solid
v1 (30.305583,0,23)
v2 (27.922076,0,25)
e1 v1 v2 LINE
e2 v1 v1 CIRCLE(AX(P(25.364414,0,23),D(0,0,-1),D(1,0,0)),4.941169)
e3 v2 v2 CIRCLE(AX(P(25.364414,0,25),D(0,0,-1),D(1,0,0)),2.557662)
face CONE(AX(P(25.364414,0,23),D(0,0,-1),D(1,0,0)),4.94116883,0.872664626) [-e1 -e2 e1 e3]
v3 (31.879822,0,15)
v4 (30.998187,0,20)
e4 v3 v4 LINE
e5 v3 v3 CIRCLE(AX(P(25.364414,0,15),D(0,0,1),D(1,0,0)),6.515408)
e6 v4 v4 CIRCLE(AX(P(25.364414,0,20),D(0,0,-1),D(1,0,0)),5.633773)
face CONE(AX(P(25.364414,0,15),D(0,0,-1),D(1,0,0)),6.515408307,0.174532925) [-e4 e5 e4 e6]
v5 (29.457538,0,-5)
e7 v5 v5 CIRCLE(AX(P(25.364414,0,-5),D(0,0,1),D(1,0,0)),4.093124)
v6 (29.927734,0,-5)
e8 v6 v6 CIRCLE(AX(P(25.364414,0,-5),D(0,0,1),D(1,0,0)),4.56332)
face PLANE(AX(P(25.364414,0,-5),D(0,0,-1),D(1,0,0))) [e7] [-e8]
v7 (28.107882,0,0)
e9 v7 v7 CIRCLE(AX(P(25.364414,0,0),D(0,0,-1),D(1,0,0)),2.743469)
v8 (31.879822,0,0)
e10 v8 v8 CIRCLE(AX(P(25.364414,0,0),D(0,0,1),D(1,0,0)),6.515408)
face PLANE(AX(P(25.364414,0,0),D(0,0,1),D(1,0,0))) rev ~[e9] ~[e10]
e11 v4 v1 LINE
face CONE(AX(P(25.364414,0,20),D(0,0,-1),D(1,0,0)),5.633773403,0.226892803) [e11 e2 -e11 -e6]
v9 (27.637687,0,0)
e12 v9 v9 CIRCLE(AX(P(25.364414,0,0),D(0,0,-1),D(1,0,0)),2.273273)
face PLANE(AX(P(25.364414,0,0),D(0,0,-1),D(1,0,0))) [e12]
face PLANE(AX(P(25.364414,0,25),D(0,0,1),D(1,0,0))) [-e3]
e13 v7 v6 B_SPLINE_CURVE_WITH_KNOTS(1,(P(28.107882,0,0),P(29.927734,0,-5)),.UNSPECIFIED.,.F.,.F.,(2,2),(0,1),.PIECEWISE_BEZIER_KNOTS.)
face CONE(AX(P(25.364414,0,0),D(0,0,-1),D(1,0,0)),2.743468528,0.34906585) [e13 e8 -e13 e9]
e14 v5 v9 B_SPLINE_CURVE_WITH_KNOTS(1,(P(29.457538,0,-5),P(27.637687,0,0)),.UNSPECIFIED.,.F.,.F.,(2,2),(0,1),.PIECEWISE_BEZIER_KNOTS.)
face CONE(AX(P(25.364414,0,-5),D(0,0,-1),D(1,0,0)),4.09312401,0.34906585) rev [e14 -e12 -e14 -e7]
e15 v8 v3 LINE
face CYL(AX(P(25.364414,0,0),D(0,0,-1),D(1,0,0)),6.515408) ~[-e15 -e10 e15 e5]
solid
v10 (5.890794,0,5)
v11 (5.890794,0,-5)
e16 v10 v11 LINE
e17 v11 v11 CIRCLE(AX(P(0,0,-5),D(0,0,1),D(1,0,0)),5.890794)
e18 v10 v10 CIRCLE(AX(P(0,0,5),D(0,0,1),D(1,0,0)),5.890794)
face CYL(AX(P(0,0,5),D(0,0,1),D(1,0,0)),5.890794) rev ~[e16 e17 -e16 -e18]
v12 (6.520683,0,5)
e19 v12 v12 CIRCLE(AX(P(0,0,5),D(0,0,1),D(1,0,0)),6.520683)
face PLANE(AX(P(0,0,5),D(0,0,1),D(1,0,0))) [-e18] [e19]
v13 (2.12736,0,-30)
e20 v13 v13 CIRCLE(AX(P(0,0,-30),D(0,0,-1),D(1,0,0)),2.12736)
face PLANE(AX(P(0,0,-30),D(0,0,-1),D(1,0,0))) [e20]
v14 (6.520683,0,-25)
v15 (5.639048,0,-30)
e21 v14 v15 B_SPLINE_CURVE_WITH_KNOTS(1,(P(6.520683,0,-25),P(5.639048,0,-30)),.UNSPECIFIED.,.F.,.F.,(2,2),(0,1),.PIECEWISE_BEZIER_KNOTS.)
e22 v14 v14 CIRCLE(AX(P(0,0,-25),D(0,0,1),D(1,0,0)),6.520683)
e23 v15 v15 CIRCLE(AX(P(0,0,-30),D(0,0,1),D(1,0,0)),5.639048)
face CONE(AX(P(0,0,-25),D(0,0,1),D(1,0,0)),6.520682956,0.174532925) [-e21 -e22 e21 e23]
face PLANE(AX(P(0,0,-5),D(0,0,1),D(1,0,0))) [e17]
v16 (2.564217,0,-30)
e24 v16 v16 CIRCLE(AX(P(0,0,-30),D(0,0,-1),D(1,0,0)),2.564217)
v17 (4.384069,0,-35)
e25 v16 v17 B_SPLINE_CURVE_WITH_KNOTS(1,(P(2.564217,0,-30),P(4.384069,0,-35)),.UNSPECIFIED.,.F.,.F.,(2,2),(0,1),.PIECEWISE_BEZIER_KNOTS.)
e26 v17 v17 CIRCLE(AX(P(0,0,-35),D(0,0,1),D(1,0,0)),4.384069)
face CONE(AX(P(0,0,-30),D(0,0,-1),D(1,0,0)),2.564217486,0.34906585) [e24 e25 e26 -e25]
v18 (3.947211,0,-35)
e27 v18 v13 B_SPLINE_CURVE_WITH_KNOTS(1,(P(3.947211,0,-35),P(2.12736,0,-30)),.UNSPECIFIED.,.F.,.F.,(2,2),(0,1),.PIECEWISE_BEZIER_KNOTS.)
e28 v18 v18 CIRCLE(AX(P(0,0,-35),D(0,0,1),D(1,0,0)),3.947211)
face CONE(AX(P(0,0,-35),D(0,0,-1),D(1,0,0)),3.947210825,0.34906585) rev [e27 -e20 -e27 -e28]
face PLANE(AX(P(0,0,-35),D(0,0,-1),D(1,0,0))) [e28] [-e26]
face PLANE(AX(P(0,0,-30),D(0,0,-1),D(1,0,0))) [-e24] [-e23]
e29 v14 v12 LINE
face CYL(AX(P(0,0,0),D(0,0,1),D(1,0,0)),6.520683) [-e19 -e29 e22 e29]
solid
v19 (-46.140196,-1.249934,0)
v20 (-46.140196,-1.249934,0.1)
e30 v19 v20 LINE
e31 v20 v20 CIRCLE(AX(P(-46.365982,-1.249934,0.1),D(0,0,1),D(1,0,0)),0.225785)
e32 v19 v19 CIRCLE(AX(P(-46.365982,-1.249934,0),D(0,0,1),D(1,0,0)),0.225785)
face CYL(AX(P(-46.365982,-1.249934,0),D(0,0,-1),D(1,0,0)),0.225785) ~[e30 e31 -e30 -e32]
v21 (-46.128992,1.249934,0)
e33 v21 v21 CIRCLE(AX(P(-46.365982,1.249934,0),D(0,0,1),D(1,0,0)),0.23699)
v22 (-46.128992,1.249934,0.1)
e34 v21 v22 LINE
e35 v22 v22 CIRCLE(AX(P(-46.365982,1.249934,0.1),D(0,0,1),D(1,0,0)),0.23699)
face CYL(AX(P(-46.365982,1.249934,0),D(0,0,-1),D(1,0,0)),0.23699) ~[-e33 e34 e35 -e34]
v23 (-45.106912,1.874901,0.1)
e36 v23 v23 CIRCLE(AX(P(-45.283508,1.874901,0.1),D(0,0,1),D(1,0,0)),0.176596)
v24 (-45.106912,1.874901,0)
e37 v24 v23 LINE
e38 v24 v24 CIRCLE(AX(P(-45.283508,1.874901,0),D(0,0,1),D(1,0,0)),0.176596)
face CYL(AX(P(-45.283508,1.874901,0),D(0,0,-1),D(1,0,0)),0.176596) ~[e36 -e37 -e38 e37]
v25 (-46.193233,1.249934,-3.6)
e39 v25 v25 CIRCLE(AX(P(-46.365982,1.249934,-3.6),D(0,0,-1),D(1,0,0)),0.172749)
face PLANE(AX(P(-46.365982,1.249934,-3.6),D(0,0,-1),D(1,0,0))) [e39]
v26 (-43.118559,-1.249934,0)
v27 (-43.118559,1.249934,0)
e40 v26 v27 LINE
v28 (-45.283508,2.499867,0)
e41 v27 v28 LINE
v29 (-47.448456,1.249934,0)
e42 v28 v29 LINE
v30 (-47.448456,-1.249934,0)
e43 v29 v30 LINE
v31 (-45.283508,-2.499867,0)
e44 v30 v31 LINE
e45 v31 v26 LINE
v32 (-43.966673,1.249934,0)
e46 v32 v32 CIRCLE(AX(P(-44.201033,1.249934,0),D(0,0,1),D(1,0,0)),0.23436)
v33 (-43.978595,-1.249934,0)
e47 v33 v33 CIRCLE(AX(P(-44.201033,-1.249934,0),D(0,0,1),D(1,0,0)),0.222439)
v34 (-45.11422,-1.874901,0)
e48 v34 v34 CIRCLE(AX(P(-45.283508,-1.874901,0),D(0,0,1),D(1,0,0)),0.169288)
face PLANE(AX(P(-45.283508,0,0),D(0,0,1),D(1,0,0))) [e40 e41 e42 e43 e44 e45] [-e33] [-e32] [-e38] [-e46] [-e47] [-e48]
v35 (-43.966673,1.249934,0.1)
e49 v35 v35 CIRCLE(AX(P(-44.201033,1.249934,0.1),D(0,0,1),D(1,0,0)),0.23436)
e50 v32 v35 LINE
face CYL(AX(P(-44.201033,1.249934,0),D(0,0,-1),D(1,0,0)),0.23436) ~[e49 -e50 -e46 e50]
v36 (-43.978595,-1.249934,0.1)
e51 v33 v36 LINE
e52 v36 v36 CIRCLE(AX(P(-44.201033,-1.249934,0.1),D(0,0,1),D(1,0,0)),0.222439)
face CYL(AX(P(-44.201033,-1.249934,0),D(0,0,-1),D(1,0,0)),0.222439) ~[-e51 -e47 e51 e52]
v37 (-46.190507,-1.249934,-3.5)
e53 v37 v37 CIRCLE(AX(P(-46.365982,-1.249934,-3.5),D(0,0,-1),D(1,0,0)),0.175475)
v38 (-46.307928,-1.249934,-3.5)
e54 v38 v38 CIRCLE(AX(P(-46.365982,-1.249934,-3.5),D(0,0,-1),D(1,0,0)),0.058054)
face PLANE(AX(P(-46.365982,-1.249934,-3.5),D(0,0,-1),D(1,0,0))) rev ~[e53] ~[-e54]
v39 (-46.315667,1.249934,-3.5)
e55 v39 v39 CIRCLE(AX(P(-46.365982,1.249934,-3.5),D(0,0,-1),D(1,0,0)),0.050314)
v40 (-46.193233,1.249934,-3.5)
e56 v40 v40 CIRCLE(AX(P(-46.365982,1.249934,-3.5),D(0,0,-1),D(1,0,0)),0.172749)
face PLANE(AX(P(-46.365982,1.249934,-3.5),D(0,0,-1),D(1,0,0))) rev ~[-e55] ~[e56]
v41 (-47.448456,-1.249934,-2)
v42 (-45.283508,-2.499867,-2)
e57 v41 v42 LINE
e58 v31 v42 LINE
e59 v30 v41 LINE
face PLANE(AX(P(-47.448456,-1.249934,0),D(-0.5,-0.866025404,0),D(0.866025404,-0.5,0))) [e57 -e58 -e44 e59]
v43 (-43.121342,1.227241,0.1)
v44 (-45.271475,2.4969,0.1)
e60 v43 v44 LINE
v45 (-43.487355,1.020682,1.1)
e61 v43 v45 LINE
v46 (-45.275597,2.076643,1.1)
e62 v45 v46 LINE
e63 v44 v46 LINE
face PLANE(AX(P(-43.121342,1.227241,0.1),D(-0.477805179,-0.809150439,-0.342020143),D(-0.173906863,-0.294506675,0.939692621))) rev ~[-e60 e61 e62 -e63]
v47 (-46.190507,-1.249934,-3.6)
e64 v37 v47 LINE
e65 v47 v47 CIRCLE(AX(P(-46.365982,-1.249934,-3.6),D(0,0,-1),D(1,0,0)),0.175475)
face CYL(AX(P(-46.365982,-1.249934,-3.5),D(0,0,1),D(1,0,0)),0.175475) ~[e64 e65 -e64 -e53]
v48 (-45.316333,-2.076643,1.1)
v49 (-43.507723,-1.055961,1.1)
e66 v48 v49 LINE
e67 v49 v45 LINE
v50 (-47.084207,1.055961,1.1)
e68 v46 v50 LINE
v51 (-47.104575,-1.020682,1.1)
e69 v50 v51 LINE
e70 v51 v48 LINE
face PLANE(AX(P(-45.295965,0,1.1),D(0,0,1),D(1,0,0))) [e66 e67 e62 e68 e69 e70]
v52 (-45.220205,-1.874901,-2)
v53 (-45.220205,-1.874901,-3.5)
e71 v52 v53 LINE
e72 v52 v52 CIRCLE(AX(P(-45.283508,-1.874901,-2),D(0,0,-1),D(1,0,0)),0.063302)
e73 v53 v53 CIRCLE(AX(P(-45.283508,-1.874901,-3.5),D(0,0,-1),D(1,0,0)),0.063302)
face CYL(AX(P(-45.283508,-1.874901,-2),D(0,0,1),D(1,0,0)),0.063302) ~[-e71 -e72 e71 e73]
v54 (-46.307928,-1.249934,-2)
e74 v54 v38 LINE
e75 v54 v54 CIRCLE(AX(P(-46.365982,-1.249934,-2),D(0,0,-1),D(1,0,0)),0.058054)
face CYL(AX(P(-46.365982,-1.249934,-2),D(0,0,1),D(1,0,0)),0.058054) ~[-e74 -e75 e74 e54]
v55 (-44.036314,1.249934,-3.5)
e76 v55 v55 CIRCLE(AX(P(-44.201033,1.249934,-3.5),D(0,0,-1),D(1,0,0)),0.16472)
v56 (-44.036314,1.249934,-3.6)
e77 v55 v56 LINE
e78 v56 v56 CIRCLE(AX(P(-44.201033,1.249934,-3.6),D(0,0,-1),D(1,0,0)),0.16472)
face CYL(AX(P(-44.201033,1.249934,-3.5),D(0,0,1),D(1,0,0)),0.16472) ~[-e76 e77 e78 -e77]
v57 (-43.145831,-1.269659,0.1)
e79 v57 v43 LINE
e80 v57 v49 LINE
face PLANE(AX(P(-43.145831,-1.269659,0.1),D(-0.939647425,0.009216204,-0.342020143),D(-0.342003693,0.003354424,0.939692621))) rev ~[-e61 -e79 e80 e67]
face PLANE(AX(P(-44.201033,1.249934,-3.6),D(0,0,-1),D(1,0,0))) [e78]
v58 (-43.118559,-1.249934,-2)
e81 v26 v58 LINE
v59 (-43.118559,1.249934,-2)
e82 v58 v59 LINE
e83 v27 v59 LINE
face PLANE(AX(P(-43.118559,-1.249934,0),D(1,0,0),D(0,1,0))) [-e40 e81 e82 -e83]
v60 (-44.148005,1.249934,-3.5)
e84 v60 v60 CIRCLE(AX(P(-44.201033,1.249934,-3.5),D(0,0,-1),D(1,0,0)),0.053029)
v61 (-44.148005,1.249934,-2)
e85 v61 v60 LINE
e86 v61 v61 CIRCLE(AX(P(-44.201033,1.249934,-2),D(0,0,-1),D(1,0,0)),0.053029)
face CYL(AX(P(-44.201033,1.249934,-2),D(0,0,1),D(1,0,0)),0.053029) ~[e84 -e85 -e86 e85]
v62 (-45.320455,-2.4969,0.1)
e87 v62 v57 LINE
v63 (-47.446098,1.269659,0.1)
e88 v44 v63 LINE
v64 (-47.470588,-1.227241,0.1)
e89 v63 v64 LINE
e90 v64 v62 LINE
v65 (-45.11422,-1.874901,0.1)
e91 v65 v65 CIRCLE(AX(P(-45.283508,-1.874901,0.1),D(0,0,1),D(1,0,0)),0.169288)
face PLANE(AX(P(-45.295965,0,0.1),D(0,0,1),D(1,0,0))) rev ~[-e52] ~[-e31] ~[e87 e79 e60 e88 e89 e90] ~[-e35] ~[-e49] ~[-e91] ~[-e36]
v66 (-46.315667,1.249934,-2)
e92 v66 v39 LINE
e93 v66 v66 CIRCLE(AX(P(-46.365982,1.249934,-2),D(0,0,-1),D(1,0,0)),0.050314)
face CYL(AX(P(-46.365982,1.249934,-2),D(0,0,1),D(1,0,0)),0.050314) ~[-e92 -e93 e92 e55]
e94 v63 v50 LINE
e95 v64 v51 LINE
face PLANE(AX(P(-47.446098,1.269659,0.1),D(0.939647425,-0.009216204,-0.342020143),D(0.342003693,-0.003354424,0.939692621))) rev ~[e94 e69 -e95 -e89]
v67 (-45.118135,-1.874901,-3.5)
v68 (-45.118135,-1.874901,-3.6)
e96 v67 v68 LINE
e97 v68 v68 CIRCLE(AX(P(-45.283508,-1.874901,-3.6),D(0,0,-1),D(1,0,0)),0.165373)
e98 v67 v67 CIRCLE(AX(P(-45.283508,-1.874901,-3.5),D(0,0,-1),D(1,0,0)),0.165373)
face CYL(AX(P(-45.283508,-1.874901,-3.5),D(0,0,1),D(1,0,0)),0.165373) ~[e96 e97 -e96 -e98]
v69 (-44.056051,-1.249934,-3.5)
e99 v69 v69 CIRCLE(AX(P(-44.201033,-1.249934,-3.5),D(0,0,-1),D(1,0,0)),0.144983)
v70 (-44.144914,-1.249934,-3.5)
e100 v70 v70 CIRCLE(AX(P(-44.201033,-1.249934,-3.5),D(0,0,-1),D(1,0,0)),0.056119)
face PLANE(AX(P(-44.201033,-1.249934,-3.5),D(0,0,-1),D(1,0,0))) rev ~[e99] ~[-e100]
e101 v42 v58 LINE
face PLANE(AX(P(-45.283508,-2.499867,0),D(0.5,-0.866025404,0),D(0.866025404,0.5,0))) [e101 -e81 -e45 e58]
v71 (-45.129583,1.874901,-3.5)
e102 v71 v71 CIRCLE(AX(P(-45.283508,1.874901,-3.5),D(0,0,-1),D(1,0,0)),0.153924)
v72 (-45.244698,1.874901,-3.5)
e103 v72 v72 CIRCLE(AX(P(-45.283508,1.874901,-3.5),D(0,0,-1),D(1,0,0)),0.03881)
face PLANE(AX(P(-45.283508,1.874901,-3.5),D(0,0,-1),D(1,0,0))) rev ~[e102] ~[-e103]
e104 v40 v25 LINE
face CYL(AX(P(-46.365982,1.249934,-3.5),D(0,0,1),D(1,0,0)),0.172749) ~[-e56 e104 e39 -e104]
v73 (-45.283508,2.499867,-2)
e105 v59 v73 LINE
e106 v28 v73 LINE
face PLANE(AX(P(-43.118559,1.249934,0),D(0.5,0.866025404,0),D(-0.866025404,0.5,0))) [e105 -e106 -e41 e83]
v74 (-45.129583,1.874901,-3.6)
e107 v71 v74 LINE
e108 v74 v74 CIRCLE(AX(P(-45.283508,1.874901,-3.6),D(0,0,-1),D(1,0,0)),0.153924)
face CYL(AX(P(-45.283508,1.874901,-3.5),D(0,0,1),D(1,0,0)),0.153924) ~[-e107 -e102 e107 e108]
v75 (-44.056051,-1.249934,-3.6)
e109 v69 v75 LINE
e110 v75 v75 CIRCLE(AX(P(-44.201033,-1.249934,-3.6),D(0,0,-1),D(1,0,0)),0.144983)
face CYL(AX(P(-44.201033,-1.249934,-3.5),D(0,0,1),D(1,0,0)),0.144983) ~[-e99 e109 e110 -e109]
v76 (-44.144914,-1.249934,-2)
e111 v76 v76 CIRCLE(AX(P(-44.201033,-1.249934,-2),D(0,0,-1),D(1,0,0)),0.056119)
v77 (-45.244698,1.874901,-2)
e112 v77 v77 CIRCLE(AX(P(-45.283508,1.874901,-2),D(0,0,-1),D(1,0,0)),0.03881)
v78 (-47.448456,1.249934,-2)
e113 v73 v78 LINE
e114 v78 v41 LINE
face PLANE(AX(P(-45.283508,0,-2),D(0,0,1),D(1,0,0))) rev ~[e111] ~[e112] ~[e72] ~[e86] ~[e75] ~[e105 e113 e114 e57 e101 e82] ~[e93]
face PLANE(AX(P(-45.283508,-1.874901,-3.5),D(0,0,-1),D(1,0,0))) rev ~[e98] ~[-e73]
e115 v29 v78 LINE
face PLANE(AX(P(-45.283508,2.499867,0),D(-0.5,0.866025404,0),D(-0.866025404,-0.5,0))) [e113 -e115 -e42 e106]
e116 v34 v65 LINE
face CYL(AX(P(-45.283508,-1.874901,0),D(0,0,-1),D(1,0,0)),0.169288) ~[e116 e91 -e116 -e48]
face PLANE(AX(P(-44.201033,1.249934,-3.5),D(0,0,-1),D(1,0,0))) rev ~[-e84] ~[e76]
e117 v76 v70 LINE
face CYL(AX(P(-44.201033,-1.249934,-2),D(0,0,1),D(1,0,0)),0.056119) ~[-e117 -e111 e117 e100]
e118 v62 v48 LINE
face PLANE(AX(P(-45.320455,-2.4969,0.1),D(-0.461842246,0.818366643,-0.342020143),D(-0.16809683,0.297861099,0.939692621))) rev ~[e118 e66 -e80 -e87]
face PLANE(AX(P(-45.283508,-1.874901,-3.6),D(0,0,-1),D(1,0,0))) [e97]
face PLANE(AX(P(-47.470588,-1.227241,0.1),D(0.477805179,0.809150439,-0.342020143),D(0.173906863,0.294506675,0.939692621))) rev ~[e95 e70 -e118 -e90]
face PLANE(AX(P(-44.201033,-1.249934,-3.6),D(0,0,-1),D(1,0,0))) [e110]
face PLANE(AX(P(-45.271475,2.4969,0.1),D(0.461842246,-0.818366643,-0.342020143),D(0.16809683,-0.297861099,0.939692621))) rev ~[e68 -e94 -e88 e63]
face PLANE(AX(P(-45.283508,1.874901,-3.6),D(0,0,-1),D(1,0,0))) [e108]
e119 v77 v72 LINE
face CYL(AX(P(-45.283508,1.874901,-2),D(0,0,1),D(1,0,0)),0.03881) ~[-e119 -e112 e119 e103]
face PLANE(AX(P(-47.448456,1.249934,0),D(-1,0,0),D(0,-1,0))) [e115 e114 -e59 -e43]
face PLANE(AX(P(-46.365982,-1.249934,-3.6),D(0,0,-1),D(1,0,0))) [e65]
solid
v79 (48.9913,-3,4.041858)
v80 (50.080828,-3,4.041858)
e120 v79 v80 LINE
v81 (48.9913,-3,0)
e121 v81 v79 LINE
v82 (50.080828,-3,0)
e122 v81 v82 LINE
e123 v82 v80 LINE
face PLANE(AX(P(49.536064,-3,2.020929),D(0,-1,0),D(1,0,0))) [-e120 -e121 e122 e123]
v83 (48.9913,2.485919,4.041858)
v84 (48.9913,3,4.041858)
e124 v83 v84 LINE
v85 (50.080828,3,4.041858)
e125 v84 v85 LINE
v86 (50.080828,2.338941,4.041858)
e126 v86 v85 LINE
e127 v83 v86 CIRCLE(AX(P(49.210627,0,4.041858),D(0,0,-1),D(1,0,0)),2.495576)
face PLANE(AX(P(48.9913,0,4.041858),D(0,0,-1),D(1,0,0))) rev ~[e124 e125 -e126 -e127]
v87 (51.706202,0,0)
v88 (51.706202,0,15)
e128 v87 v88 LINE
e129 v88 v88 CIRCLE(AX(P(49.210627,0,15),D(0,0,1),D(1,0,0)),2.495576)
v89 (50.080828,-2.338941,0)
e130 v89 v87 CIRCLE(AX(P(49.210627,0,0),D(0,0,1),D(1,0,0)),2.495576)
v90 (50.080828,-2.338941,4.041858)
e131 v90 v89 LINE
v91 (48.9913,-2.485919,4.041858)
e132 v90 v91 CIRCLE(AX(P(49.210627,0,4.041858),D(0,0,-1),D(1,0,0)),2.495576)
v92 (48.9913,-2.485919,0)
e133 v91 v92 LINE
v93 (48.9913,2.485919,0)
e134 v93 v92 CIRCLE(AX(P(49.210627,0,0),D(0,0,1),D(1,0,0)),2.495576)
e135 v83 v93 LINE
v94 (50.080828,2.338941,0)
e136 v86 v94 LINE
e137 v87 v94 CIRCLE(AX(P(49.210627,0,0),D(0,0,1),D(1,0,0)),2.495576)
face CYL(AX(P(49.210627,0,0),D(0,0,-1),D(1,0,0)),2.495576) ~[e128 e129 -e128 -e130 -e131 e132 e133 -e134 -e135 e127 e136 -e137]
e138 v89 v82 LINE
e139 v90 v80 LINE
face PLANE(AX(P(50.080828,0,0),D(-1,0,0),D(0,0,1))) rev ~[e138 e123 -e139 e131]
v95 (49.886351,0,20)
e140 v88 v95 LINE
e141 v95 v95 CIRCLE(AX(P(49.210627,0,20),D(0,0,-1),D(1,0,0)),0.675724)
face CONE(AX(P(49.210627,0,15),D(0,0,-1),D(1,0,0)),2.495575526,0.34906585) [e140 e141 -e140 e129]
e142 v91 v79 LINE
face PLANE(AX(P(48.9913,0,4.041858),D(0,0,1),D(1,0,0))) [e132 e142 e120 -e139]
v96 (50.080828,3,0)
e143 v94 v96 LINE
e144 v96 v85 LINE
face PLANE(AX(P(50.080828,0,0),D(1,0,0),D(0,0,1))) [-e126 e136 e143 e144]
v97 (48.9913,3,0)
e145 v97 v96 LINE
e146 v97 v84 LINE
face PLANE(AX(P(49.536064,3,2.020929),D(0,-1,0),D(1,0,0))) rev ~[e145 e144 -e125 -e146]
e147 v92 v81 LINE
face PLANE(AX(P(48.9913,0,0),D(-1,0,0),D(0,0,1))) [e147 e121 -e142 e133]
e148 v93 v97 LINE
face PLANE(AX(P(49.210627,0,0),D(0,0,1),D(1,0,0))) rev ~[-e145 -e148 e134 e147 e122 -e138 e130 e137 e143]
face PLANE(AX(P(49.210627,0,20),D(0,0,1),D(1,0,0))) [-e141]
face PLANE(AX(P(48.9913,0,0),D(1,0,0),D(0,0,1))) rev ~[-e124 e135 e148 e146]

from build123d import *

# Parameters (mm, degrees)
F0_R           = 6.520682956
F1_DEPTH       = 5
F1_DEPTH_BACK  = 25
F1_FACE_R      = 6.520682956
F2_DEPTH       = 5
F2_TAPER       = 10
F3_R           = 2.5642174857
F4_DEPTH       = 5
F4_TAPER       = -20
F5_R           = 3.9472108248
F6_DEPTH       = 5
F6_TAPER       = 20
F7_R           = 5.8907936321
F8_DEPTH       = 10
F9_R           = 6.5154083069
F10_DEPTH      = 15
F11_R          = 2.7434685281
F12_DEPTH      = 5
F12_TAPER      = -20
F13_R          = 4.0931240103
F14_DEPTH      = 5
F14_TAPER      = 20
F10_FACE1_R    = 6.5154083069
F15_DEPTH      = 5
F15_TAPER      = 10
F15_FACE_R     = 5.6337734034
F16_DEPTH      = 3
F16_TAPER      = 13
F16_FACE_R     = 4.94116883
F17_DEPTH      = 2
F17_TAPER      = 50
F18_R          = 2.4955755262
F19_DEPTH      = 15
F19_FACE_R     = 2.4955755262
F20_DEPTH      = 5
F20_TAPER      = 20
F21_W          = 1.089528203
F21_H          = 4.0418575518
F22_DEPTH      = 3
F22_DEPTH_BACK = 3
F24_DEPTH      = 2
F25_R          = 0.1692879178
F25_R_2        = 0.2224386255
F25_R_3        = 0.234360296
F25_R_4        = 0.2369895681
F25_R_5        = 0.225785449
F25_R_6        = 0.1765959337
F26_DEPTH      = 0.1
F28_DEPTH      = 1
F28_TAPER      = 20
F29_R          = 0.0633023373
F29_R_2        = 0.0561190387
F29_R_3        = 0.0530285767
F29_R_4        = 0.0388095199
F29_R_5        = 0.0503144373
F29_R_6        = 0.0580538922
F30_DEPTH      = 1.5
F31_R          = 0.1727487278
F32_DEPTH      = 0.1
F33_R          = 0.1539242837
F34_DEPTH      = 0.1
F35_R          = 0.164719665
F36_DEPTH      = 0.1
F37_R          = 0.1449825648
F38_DEPTH      = 0.1
F39_R          = 0.1653727372
F40_DEPTH      = 0.1
F41_R          = 0.175474747
F42_DEPTH      = 0.1


with BuildPart() as f1:
    # F0 (on Top) → F1 (new body, two sides)
    with BuildSketch(Plane.XY) as f1_sk:
        Circle(F0_R)
    extrude(amount=F1_DEPTH)
    extrude(f1_sk.sketch, amount=-F1_DEPTH_BACK)

    # F1_face (on face) → F2 (join)
    with BuildSketch(Plane(origin=(0, 0, -25), x_dir=(1, 0, 0), z_dir=(0, 0, -1))):
        Circle(F1_FACE_R)
    extrude(amount=F2_DEPTH, taper=F2_TAPER)

    # F3 (on face) → F4 (join)
    with BuildSketch(Plane(origin=(0, 0, -30), x_dir=(1, 0, 0), z_dir=(0, 0, -1))):
        Circle(F3_R)
    extrude(amount=F4_DEPTH, taper=F4_TAPER)

    # F5 (on face) → F6 (cut)
    with BuildSketch(Plane(origin=(0, 0, -35), x_dir=(1, 0, 0), z_dir=(0, 0, -1))):
        Circle(F5_R)
    extrude(amount=-F6_DEPTH, taper=F6_TAPER, mode=Mode.SUBTRACT)

    # F7 (on face) → F8 (cut)
    with BuildSketch(Plane.XY.offset(5)):
        Circle(F7_R)
    extrude(amount=-F8_DEPTH, mode=Mode.SUBTRACT)


with BuildPart() as f10:
    # F9 (on Top) → F10 (new body)
    with BuildSketch(Plane.XY):
        with Locations((25.3644138575, 0)):
            Circle(F9_R)
    extrude(amount=F10_DEPTH)

    # F11 (on face) → F12 (join)
    with BuildSketch(Plane(origin=(0, 0, 0), x_dir=(1, 0, 0), z_dir=(0, 0, -1))):
        with Locations((25.3644138575, 0)):
            Circle(F11_R)
    extrude(amount=F12_DEPTH, taper=F12_TAPER)

    # F13 (on face) → F14 (cut)
    with BuildSketch(Plane(origin=(0, 0, -5), x_dir=(1, 0, 0), z_dir=(0, 0, -1))):
        with Locations((25.3644138575, 0)):
            Circle(F13_R)
    extrude(amount=-F14_DEPTH, taper=F14_TAPER, mode=Mode.SUBTRACT)

    # F10_face1 (on face) → F15 (join)
    with BuildSketch(Plane(origin=(25.3644138575, 0, 15), x_dir=(1, 0, 0), z_dir=(0, 0, 1))):
        Circle(F10_FACE1_R)
    extrude(amount=F15_DEPTH, taper=F15_TAPER)

    # F15_face (on face) → F16 (join)
    with BuildSketch(Plane(origin=(25.3644138575, 0, 20), x_dir=(1, 0, 0), z_dir=(0, 0, 1))):
        Circle(F15_FACE_R)
    extrude(amount=F16_DEPTH, taper=F16_TAPER)

    # F16_face (on face) → F17 (join)
    with BuildSketch(Plane(origin=(25.3644138575, 0, 23), x_dir=(1, 0, 0), z_dir=(0, 0, 1))):
        Circle(F16_FACE_R)
    extrude(amount=F17_DEPTH, taper=F17_TAPER)


with BuildPart() as f19:
    # F18 (on Top) → F19 (new body)
    with BuildSketch(Plane.XY):
        with Locations((49.210626632, 0)):
            Circle(F18_R)
    extrude(amount=F19_DEPTH)

    # F19_face (on face) → F20 (join)
    with BuildSketch(Plane(origin=(49.210626632, 0, 15), x_dir=(1, 0, 0), z_dir=(0, 0, 1))):
        Circle(F19_FACE_R)
    extrude(amount=F20_DEPTH, taper=F20_TAPER)

    # F21 (on Front) → F22 (join, two sides)
    with BuildSketch(Plane.XZ) as f22_sk:
        with Locations((49.5360642672, 2.0209287759)):
            Rectangle(F21_W, F21_H)
    extrude(amount=F22_DEPTH)
    extrude(f22_sk.sketch, amount=-F22_DEPTH_BACK)


with BuildPart() as f24:
    # F23 (on Top) → F24 (new body)
    with BuildSketch(Plane.XY):
        Polygon((-43.1185588241, -1.249933733), (-43.1185588241, 1.249933733), (-45.2835075557, 2.499867466), (-47.4484562874, 1.249933733), (-47.4484562874, -1.249933733), (-45.2835075557, -2.499867466), align=None)
    extrude(amount=-F24_DEPTH)

    # F25 (on face) → F26 (join)
    with BuildSketch(Plane.XY):
        with Locations((-45.2835075557, -1.8749005995)):
            Circle(F25_R)
        with Locations((-44.2010331899, -1.249933733)):
            Circle(F25_R_2)
        with Locations((-44.2010331899, 1.249933733)):
            Circle(F25_R_3)
        with Locations((-46.3659819216, 1.249933733)):
            Circle(F25_R_4)
        with Locations((-46.3659819216, -1.249933733)):
            Circle(F25_R_5)
        with Locations((-45.2835075557, 1.8749005995)):
            Circle(F25_R_6)
    extrude(amount=F26_DEPTH)

    # F27 (on face) → F28 (join)
    with BuildSketch(Plane.XY.offset(0.1)):
        Polygon((-43.1213415258, 1.2272408262), (-45.2714749582, 2.4968995217), (-47.4460983588, 1.2696586956), (-47.4705883272, -1.2272408262), (-45.3204548948, -2.4968995217), (-43.1458314941, -1.2696586956), align=None)
    extrude(amount=F28_DEPTH, taper=F28_TAPER)

    # F29 (on face) → F30 (join)
    with BuildSketch(Plane(origin=(0, 0, -2), x_dir=(1, 0, 0), z_dir=(0, 0, -1))):
        with Locations((-45.2835075557, 1.8749005995)):
            Circle(F29_R)
        with Locations((-44.2010331899, 1.249933733)):
            Circle(F29_R_2)
        with Locations((-44.2010331899, -1.249933733)):
            Circle(F29_R_3)
        with Locations((-45.2835075557, -1.8749005995)):
            Circle(F29_R_4)
        with Locations((-46.3659819216, -1.249933733)):
            Circle(F29_R_5)
        with Locations((-46.3659819216, 1.249933733)):
            Circle(F29_R_6)
    extrude(amount=F30_DEPTH)

    # F31 (on face) → F32 (join)
    with BuildSketch(Plane(origin=(0, 0, -3.5), x_dir=(1, 0, 0), z_dir=(0, 0, -1))):
        with Locations((-46.3659819216, -1.249933733)):
            Circle(F31_R)
    extrude(amount=F32_DEPTH)

    # F33 (on face) → F34 (join)
    with BuildSketch(Plane(origin=(0, 0, -3.5), x_dir=(1, 0, 0), z_dir=(0, 0, -1))):
        with Locations((-45.2835075557, -1.8749005995)):
            Circle(F33_R)
    extrude(amount=F34_DEPTH)

    # F35 (on face) → F36 (join)
    with BuildSketch(Plane(origin=(0, 0, -3.5), x_dir=(1, 0, 0), z_dir=(0, 0, -1))):
        with Locations((-44.2010331899, -1.249933733)):
            Circle(F35_R)
    extrude(amount=F36_DEPTH)

    # F37 (on face) → F38 (join)
    with BuildSketch(Plane(origin=(0, 0, -3.5), x_dir=(1, 0, 0), z_dir=(0, 0, -1))):
        with Locations((-44.2010331899, 1.249933733)):
            Circle(F37_R)
    extrude(amount=F38_DEPTH)

    # F39 (on face) → F40 (join)
    with BuildSketch(Plane(origin=(0, 0, -3.5), x_dir=(1, 0, 0), z_dir=(0, 0, -1))):
        with Locations((-45.2835075557, 1.8749005995)):
            Circle(F39_R)
    extrude(amount=F40_DEPTH)

    # F41 (on face) → F42 (join)
    with BuildSketch(Plane(origin=(0, 0, -3.5), x_dir=(1, 0, 0), z_dir=(0, 0, -1))):
        with Locations((-46.3659819216, 1.249933733)):
            Circle(F41_R)
    extrude(amount=F42_DEPTH)


solid = Compound([f1.part, f10.part, f19.part, f24.part])
